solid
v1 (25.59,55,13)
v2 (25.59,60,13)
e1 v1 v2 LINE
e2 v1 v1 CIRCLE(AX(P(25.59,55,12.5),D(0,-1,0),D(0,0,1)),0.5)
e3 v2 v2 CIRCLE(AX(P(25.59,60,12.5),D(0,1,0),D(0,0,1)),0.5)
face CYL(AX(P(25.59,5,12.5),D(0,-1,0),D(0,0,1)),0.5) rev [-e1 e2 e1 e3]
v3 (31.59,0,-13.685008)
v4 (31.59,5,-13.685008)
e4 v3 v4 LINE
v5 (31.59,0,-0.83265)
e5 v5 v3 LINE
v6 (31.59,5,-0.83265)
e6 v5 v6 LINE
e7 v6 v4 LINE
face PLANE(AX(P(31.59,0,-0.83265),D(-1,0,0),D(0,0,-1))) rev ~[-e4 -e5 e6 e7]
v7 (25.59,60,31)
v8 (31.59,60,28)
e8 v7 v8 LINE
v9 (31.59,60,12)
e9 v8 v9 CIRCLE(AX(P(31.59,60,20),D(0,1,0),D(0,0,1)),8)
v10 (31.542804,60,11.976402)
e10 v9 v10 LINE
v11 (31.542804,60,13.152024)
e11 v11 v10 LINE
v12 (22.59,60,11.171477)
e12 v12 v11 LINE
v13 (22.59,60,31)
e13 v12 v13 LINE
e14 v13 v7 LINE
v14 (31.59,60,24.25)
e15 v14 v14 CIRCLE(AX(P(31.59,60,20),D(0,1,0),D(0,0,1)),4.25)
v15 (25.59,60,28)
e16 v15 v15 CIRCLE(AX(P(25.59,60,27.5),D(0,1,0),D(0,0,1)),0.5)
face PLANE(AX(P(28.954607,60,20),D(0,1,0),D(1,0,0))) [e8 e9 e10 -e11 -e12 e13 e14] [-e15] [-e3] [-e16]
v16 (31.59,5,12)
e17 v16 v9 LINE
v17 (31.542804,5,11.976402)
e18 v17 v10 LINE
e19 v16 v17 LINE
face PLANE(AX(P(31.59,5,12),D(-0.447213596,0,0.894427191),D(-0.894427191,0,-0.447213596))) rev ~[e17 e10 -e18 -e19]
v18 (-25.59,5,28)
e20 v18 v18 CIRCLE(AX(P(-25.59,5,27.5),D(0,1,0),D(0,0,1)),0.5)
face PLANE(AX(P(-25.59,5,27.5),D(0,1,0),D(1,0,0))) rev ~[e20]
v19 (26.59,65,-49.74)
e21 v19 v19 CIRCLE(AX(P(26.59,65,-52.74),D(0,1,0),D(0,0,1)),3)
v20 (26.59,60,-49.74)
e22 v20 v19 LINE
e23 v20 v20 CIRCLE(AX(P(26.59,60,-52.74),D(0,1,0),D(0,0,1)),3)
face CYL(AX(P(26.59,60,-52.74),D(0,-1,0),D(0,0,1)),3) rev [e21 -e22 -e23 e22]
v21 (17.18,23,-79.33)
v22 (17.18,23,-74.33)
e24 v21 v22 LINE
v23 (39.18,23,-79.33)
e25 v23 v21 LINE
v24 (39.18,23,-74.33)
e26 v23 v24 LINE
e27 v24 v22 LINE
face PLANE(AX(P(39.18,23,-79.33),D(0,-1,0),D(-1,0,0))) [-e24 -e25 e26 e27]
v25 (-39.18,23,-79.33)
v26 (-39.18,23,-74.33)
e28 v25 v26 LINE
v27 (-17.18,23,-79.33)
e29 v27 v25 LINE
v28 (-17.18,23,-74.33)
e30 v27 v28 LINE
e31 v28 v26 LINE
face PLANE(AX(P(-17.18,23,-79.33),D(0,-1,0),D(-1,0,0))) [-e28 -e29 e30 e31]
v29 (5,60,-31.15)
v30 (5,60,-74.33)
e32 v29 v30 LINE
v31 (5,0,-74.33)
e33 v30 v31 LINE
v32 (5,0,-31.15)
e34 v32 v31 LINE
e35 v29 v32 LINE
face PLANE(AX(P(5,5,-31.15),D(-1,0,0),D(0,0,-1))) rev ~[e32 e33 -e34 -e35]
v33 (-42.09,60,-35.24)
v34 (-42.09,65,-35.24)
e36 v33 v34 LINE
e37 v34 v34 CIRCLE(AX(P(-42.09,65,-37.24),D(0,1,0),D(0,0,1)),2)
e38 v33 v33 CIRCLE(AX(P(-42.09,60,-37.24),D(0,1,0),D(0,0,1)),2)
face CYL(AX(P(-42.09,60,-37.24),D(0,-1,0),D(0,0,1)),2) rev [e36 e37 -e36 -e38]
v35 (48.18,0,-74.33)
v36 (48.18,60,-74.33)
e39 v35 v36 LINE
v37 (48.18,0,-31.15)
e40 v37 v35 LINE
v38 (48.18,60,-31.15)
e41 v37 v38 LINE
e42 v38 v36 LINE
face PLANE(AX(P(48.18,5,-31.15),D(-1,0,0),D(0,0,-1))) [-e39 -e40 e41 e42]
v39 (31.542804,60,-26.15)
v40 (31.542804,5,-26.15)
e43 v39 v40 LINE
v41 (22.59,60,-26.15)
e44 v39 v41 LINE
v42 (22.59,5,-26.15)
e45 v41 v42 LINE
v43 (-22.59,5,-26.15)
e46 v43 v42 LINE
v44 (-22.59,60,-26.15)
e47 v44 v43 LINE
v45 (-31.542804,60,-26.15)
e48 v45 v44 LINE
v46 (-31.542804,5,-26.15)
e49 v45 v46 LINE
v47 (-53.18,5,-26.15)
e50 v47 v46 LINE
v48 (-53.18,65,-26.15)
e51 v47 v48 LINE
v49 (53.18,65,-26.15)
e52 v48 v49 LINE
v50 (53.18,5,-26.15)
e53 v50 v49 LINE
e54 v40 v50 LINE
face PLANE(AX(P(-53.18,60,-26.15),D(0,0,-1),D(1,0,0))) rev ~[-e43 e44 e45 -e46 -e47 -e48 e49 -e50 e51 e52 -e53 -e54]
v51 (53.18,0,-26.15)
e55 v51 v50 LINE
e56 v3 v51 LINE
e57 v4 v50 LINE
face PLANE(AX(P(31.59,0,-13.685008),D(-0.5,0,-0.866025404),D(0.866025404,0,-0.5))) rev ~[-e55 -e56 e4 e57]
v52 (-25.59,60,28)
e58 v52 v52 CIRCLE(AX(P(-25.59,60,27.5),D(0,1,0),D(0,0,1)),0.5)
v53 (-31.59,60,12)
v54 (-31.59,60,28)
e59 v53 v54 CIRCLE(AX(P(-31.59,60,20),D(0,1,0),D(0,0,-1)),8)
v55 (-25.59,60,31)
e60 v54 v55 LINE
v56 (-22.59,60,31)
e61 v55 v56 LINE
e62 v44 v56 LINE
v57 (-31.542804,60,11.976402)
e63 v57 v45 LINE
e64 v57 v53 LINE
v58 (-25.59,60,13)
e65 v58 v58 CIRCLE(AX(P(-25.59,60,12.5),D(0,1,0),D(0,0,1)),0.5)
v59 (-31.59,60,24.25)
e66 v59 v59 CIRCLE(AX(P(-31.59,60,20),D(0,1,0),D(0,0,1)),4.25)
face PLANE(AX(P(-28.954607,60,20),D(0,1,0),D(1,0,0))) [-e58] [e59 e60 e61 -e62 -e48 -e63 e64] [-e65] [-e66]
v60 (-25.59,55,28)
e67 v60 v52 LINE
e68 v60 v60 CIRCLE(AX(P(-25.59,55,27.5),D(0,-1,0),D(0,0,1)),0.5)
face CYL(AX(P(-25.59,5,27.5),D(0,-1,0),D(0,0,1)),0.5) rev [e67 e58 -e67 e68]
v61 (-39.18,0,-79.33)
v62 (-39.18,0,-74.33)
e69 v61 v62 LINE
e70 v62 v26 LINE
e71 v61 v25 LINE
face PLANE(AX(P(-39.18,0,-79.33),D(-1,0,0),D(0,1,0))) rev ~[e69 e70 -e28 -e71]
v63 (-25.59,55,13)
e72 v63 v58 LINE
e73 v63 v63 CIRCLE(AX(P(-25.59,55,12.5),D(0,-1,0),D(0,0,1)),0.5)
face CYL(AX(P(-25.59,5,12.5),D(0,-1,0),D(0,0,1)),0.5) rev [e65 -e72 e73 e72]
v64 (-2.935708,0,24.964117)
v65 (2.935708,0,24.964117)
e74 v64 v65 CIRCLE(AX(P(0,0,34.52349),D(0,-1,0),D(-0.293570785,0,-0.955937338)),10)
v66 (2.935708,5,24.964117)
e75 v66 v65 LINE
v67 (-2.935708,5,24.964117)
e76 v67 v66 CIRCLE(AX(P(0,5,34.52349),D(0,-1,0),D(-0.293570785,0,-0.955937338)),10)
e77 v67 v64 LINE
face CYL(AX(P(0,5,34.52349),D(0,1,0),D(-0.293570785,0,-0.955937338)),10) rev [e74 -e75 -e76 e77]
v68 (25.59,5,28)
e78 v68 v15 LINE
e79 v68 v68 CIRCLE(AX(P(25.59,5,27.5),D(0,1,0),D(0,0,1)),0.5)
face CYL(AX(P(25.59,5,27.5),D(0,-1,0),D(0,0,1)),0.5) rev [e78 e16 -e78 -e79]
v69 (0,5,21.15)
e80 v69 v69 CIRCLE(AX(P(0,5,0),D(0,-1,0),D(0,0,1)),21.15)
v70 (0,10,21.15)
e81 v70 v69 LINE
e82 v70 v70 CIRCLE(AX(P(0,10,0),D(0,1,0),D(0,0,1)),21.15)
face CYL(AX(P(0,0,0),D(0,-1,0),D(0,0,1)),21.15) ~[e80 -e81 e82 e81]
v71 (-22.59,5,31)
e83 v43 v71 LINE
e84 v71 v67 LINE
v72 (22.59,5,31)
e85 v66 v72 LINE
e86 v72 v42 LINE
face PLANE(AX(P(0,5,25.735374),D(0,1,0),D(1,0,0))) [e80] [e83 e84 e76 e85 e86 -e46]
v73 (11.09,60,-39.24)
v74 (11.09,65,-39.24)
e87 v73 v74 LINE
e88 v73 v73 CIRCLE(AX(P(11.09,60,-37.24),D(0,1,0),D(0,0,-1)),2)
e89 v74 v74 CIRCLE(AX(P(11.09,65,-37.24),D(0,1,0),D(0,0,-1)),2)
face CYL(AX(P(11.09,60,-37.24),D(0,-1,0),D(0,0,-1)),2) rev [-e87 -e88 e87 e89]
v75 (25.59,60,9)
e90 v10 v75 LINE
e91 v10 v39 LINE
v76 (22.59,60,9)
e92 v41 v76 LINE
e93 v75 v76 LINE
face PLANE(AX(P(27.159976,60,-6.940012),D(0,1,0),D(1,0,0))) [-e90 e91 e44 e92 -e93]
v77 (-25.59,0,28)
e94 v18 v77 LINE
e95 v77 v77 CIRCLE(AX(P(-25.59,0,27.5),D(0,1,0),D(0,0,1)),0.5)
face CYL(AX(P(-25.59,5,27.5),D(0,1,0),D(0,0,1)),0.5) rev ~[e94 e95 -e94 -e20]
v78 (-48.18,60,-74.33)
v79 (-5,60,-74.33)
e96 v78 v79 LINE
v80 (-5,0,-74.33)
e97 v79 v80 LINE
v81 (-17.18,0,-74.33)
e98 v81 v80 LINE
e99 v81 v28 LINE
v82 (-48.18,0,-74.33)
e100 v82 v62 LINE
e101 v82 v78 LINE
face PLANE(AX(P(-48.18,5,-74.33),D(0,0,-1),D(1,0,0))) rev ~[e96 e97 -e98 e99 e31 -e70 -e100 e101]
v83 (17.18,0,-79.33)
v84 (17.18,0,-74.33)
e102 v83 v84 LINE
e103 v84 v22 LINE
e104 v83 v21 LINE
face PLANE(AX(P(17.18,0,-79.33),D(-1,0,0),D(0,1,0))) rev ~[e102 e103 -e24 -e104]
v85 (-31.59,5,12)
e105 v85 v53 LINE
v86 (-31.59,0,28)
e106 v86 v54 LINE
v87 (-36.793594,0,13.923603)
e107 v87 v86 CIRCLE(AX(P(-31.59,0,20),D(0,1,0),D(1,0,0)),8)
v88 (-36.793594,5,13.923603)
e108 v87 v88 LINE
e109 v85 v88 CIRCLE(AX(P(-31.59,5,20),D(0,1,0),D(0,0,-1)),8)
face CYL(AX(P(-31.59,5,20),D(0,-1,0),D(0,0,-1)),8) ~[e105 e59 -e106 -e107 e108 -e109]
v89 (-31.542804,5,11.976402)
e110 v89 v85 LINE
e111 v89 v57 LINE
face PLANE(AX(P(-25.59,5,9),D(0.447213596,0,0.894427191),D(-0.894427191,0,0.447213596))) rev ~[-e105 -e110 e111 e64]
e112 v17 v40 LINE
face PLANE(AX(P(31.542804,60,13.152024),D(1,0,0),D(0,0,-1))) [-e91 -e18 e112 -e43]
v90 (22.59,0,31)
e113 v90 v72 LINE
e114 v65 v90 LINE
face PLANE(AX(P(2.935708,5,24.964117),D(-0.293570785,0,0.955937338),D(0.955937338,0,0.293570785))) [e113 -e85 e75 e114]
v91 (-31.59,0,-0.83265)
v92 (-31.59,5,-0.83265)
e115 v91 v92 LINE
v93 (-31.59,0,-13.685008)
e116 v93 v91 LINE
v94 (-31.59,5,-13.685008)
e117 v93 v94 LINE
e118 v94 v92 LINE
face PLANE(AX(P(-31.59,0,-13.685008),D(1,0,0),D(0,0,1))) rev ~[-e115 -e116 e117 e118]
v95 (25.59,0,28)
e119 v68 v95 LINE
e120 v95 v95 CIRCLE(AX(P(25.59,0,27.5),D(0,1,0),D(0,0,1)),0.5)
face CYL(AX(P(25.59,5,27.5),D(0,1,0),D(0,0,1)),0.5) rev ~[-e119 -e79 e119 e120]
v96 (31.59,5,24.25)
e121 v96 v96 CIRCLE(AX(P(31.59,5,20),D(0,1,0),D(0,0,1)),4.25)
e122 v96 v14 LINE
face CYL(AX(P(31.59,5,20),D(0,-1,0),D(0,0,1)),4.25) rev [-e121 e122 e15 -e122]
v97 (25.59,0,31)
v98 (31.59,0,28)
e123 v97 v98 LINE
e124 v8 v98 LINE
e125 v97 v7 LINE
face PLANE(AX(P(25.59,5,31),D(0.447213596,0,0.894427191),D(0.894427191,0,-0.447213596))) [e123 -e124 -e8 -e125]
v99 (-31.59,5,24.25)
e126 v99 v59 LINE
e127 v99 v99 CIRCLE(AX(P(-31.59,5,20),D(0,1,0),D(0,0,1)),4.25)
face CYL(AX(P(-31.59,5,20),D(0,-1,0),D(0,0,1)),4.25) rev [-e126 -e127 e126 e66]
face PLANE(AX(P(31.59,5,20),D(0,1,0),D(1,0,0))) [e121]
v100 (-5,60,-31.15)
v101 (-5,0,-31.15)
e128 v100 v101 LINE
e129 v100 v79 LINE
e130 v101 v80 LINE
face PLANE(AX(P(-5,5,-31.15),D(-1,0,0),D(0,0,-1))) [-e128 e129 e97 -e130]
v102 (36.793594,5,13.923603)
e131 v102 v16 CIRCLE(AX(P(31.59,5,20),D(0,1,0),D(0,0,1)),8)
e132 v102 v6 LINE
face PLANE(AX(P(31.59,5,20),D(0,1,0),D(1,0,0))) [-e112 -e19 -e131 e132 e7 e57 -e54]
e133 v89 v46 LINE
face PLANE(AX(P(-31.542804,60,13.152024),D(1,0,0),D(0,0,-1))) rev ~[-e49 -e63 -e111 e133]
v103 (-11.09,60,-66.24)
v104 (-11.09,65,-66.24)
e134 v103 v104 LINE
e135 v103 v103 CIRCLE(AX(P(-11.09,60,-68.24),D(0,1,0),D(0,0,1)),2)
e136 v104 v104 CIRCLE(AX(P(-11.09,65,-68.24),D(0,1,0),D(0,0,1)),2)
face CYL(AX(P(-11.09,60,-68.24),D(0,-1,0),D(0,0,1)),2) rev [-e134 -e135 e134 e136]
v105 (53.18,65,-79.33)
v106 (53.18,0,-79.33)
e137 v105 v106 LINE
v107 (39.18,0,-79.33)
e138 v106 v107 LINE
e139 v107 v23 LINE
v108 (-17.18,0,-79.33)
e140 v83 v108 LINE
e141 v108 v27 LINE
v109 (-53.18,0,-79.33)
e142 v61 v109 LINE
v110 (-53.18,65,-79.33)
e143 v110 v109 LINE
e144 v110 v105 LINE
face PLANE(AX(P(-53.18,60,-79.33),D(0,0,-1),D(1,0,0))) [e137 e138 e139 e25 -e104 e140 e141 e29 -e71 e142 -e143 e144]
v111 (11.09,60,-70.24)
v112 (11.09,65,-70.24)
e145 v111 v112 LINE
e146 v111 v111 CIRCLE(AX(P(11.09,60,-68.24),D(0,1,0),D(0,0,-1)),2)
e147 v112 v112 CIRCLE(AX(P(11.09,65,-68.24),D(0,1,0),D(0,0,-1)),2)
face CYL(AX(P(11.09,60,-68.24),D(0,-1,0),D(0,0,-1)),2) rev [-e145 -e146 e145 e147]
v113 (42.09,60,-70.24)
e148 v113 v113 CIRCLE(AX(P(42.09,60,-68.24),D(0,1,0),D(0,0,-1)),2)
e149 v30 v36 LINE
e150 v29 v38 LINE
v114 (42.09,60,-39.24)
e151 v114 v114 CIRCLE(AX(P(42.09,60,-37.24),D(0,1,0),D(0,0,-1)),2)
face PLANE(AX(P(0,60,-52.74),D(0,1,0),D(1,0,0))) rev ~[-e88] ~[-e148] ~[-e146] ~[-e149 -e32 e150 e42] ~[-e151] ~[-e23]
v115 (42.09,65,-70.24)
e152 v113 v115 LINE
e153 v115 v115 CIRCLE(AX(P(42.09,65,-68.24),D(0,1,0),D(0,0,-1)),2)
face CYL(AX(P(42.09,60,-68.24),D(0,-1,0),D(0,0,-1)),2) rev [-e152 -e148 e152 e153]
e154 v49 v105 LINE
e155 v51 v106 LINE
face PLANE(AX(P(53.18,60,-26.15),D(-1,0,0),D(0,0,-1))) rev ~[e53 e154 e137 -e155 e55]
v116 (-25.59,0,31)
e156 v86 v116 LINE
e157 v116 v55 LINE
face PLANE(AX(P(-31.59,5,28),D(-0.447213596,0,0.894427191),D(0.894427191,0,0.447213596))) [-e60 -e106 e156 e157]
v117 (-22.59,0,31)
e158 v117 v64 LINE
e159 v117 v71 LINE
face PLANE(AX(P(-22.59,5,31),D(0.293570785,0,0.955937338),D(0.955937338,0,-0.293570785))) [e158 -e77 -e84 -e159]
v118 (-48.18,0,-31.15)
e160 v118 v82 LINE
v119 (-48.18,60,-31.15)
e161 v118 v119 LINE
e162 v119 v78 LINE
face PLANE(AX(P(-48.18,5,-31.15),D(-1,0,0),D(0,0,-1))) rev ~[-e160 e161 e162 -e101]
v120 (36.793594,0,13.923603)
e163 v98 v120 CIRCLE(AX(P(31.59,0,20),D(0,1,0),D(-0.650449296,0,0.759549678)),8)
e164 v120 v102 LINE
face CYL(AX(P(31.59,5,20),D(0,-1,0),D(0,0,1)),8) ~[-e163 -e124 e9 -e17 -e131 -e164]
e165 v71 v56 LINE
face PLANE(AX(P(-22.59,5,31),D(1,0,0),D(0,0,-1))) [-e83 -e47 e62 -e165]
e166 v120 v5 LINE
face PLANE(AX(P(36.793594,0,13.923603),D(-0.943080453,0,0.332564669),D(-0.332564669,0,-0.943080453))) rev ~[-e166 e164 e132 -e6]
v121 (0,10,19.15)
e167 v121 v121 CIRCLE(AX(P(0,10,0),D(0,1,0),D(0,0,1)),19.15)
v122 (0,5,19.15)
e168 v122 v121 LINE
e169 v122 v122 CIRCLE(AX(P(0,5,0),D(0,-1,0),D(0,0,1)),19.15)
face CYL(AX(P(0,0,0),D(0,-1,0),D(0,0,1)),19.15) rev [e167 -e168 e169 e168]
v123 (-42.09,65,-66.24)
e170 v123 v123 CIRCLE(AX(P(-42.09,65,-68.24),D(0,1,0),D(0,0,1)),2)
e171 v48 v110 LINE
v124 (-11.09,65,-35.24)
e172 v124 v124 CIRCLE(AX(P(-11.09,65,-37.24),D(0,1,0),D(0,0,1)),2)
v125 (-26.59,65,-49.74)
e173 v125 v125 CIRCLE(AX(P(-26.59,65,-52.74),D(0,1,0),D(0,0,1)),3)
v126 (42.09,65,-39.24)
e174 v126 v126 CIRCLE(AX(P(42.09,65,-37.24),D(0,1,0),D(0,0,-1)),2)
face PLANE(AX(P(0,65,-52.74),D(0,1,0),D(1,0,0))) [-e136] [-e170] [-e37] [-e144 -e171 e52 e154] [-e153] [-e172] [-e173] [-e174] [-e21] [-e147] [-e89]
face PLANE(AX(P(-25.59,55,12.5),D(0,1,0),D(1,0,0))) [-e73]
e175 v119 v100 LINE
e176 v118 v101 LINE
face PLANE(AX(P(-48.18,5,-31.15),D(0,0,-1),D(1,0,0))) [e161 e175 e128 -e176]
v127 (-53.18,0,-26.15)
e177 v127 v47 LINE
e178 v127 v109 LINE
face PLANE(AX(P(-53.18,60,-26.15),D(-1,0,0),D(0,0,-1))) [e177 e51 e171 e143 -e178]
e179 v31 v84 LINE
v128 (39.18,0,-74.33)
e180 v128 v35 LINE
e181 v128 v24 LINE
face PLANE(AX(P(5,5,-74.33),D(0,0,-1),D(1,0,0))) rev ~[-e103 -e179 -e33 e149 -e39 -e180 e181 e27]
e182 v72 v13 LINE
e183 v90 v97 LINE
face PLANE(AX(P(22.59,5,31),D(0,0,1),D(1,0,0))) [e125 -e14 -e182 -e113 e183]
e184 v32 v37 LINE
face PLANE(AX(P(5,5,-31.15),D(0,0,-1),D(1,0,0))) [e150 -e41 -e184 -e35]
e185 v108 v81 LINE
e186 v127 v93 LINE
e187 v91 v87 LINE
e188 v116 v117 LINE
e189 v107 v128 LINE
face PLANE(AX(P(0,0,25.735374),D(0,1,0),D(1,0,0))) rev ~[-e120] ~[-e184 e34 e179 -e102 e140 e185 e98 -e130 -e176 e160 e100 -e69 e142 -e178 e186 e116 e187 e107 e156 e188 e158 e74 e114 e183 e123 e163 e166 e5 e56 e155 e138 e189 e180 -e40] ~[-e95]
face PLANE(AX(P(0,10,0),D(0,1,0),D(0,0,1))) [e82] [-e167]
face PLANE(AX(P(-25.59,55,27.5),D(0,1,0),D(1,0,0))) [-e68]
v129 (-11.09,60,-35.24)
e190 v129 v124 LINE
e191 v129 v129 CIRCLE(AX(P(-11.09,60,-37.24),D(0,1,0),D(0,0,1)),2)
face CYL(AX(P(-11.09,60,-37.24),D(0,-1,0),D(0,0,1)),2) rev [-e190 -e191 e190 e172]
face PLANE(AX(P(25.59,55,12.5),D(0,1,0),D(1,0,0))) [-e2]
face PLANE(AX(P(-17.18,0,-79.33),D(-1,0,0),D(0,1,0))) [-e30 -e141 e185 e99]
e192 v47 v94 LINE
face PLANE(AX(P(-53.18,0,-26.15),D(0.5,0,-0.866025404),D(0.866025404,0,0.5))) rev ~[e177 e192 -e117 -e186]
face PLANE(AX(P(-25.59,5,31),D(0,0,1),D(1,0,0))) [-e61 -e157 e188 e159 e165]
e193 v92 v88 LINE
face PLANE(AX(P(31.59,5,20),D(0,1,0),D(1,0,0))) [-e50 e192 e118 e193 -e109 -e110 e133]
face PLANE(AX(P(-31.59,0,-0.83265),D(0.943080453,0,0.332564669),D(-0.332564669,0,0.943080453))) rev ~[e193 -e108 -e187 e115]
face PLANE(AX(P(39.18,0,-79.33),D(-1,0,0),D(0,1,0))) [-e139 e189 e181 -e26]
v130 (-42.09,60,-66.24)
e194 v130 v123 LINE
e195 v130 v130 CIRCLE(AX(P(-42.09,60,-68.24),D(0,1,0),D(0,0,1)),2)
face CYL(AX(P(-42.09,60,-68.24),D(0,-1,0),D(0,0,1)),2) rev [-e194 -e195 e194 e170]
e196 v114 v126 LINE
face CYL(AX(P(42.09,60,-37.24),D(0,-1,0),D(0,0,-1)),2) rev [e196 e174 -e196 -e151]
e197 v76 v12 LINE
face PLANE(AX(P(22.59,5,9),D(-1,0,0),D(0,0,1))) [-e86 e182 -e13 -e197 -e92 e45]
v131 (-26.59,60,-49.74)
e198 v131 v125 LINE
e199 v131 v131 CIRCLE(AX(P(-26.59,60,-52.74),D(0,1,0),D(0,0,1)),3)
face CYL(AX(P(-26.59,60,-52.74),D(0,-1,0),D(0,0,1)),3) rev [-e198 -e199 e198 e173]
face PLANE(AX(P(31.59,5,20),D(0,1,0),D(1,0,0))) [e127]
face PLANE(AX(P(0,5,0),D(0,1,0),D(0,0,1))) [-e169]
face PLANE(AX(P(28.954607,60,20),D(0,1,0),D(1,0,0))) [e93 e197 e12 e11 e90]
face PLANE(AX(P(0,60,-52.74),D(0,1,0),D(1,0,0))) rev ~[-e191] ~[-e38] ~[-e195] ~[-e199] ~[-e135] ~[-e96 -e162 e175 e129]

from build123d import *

# Parameters (mm, degrees)
SKETCH1_R                       = 21.15
BOSS_EXTRUDE1_DEPTH             = 5
SKETCH2_R                       = 21.15
SKETCH2_R_2                     = 19.15
BOSS_EXTRUDE2_DEPTH             = 10
SKETCH3_R                       = 8
SKETCH3_W                       = 53.18
SKETCH3_H                       = 53.18
SKETCH3_W_2                     = 43.18
SKETCH3_H_2                     = 43.18
SKETCH3_R_2                     = 21.15
BOSS_EXTRUDE4_DEPTH             = 5
SKETCH4_W                       = 106.36
SKETCH4_H                       = 53.18
SKETCH4_W_2                     = 43.18
SKETCH4_H_2                     = 43.18
SKETCH4_R                       = 0.5
SKETCH4_R_2                     = 4.25
BOSS_EXTRUDE5_DEPTH             = 55
BOSS_EXTRUDE5_DIRECTION_2_REACH = 97.637
SKETCH5_R                       = 1.566567696
SKETCH5_R_2                     = 1.356312868
SKETCH5_R_3                     = 1.387107712
SKETCH5_R_4                     = 1.945059914
BOSS_EXTRUDE6_DEPTH             = 50
SKETCH6_W                       = 106.36
SKETCH6_H                       = 53.18
SKETCH6_R                       = 3
SKETCH6_R_2                     = 2
BOSS_EXTRUDE7_DEPTH             = 5
SKETCH7_W                       = 22
SKETCH7_H                       = 23
CUT_EXTRUDE1_DEPTH              = 5
BOSS_EXTRUDE8_DEPTH             = 60
BOSS_EXTRUDE9_DEPTH             = 5


with BuildPart() as part:
    # Sketch1 → Boss-Extrude1 (new body)
    with BuildSketch(Plane(origin=(0, 0, 0), x_dir=(1, 0, 0), z_dir=(0, 1, 0))):
        with Locations(Location((0, 0, 0), (0, 0, 270))):
            Circle(SKETCH1_R)
    extrude(amount=BOSS_EXTRUDE1_DEPTH)

    # Sketch2 → Boss-Extrude2 (add)
    with BuildSketch(Plane(origin=(0, 0, 0), x_dir=(1, 0, 0), z_dir=(0, 1, 0))):
        with Locations(Location((0, 0, 0), (0, 0, 270))):
            Circle(SKETCH2_R)
        with Locations(Location((0, 0, 0), (0, 0, 270))):
            Circle(SKETCH2_R_2, mode=Mode.SUBTRACT)
    extrude(amount=BOSS_EXTRUDE2_DEPTH)

    # Sketch3 → Boss-Extrude4 (add)
    with BuildSketch(Plane(origin=(0, 0, 0), x_dir=(1, 0, 0), z_dir=(0, 1, 0))):
        with Locations((31.59, -20)):
            Circle(SKETCH3_R)
        with Locations((-31.59, -20)):
            Circle(SKETCH3_R)
        with Locations((26.59, 52.74)):
            Rectangle(SKETCH3_W, SKETCH3_H)
        with Locations((26.59, 52.74)):
            Rectangle(SKETCH3_W_2, SKETCH3_H_2, mode=Mode.SUBTRACT)
        with Locations((-26.59, 52.74)):
            Rectangle(SKETCH3_W, SKETCH3_H)
        with Locations((-26.59, 52.74)):
            Rectangle(SKETCH3_W_2, SKETCH3_H_2, mode=Mode.SUBTRACT)
        with BuildLine():
            Line((53.18, 26.15), (0, 26.15))
            Line((0, 26.15), (-53.18, 26.15))
            Line((-53.18, 26.15), (-31.59, 13.685007688))
            Line((-31.59, 13.685007688), (-31.59, 0.832649627))
            Line((-31.59, 0.832649627), (-36.793594364, -13.923602573))
            ThreePointArc((-36.793594364, -13.923602573), (-28.245508627, -12.732649901), (-23.59, -20))
            ThreePointArc((-23.59, -20), (-24.322649901, -23.344491373), (-26.386405636, -26.076397427))
            Line((-26.386405636, -26.076397427), (0, -21.15))
            Line((0, -21.15), (26.386405636, -26.076397427))
            ThreePointArc((26.386405636, -26.076397427), (25.513602573, -14.796405636), (36.793594364, -13.923602573))
            Line((36.793594364, -13.923602573), (31.59, 0.832649627))
            Line((31.59, 0.832649627), (31.59, 13.685007688))
            Line((31.59, 13.685007688), (53.18, 26.15))
        make_face()
        with BuildLine():
            ThreePointArc((21.15, 0), (14.955308422, -14.955308422), (0, -21.15))
            ThreePointArc((0, -21.15), (-14.955308422, 14.955308422), (21.15, 0))
        make_face(mode=Mode.SUBTRACT)
        with Locations(Location((0, 0, 0), (0, 0, 270))):
            Circle(SKETCH3_R_2)
    extrude(amount=BOSS_EXTRUDE4_DEPTH)

    # Sketch4 → Boss-Extrude5 (add)
    with BuildSketch(Plane(origin=(0, 5, 0), x_dir=(1, 0, 0), z_dir=(0, 1, 0))):
        with Locations((0, 52.74)):
            Rectangle(SKETCH4_W, SKETCH4_H)
        with Locations((-26.59, 52.74)):
            Rectangle(SKETCH4_W_2, SKETCH4_H_2, mode=Mode.SUBTRACT)
        with Locations((26.59, 52.74)):
            Rectangle(SKETCH4_W_2, SKETCH4_H_2, mode=Mode.SUBTRACT)
        with BuildLine():
            ThreePointArc((-31.59, -12), (-39.59, -20), (-31.59, -28))
            Line((-31.59, -28), (-25.59, -31))
            Line((-25.59, -31), (-22.59, -31))
            Line((-22.59, -31), (-22.59, -9))
            Line((-22.59, -9), (-25.59, -9))
            Line((-25.59, -9), (-31.59, -12))
        make_face()
        with Locations(Location((-25.59, -27.5, 0), (0, 0, 270))):
            Circle(SKETCH4_R, mode=Mode.SUBTRACT)
        with Locations(Location((-31.59, -20, 0), (0, 0, 270))):
            Circle(SKETCH4_R_2, mode=Mode.SUBTRACT)
        with Locations(Location((-25.59, -12.5, 0), (0, 0, 270))):
            Circle(SKETCH4_R, mode=Mode.SUBTRACT)
        with BuildLine():
            Line((31.59, -12), (25.59, -9))
            Line((25.59, -9), (22.59, -9))
            Line((22.59, -9), (22.59, -31))
            Line((22.59, -31), (25.59, -31))
            Line((25.59, -31), (31.59, -28))
            ThreePointArc((31.59, -28), (39.59, -20), (31.59, -12))
        make_face()
        with Locations(Location((25.59, -27.5, 0), (0, 0, 270))):
            Circle(SKETCH4_R, mode=Mode.SUBTRACT)
        with Locations(Location((25.59, -12.5, 0), (0, 0, 270))):
            Circle(SKETCH4_R, mode=Mode.SUBTRACT)
        with Locations(Location((31.59, -20, 0), (0, 0, 270))):
            Circle(SKETCH4_R_2, mode=Mode.SUBTRACT)
    extrude(amount=BOSS_EXTRUDE5_DEPTH)

    # Boss-Extrude5 direction 2: up to this face of the body (flat: up to its plane)
    boss_extrude5_direction_2_end = Plane(part.part.faces().sort_by_distance((0, 0, -18.773899986))[0])
    # Sketch4 → Boss-Extrude5 direction 2 (add, up to the picked face)
    with BuildSketch(Plane(origin=(0, 5, 0), x_dir=(1, 0, 0), z_dir=(0, 1, 0)), mode=Mode.PRIVATE) as boss_extrude5_direction_2_sk1:
        with Locations((0, 52.74)):
            Rectangle(SKETCH4_W, SKETCH4_H)
        with Locations((-26.59, 52.74)):
            Rectangle(SKETCH4_W_2, SKETCH4_H_2, mode=Mode.SUBTRACT)
        with Locations((26.59, 52.74)):
            Rectangle(SKETCH4_W_2, SKETCH4_H_2, mode=Mode.SUBTRACT)
    boss_extrude5_direction_2_tool1 = split(extrude(boss_extrude5_direction_2_sk1.sketch, amount=-BOSS_EXTRUDE5_DIRECTION_2_REACH, mode=Mode.PRIVATE), bisect_by=boss_extrude5_direction_2_end, keep=Keep.BOTH, mode=Mode.PRIVATE)
    # Sketch4 → Boss-Extrude5 direction 2 (add, up to the picked face)
    with BuildSketch(Plane(origin=(0, 5, 0), x_dir=(1, 0, 0), z_dir=(0, 1, 0)), mode=Mode.PRIVATE) as boss_extrude5_direction_2_sk2:
        with BuildLine():
            ThreePointArc((-31.59, -12), (-39.59, -20), (-31.59, -28))
            Line((-31.59, -28), (-25.59, -31))
            Line((-25.59, -31), (-22.59, -31))
            Line((-22.59, -31), (-22.59, -9))
            Line((-22.59, -9), (-25.59, -9))
            Line((-25.59, -9), (-31.59, -12))
        make_face()
        with Locations(Location((-25.59, -27.5, 0), (0, 0, 270))):
            Circle(SKETCH4_R, mode=Mode.SUBTRACT)
        with Locations(Location((-31.59, -20, 0), (0, 0, 270))):
            Circle(SKETCH4_R_2, mode=Mode.SUBTRACT)
        with Locations(Location((-25.59, -12.5, 0), (0, 0, 270))):
            Circle(SKETCH4_R, mode=Mode.SUBTRACT)
    boss_extrude5_direction_2_tool2 = split(extrude(boss_extrude5_direction_2_sk2.sketch, amount=-BOSS_EXTRUDE5_DIRECTION_2_REACH, mode=Mode.PRIVATE), bisect_by=boss_extrude5_direction_2_end, keep=Keep.BOTH, mode=Mode.PRIVATE)
    # Sketch4 → Boss-Extrude5 direction 2 (add, up to the picked face)
    with BuildSketch(Plane(origin=(0, 5, 0), x_dir=(1, 0, 0), z_dir=(0, 1, 0)), mode=Mode.PRIVATE) as boss_extrude5_direction_2_sk3:
        with BuildLine():
            Line((31.59, -12), (25.59, -9))
            Line((25.59, -9), (22.59, -9))
            Line((22.59, -9), (22.59, -31))
            Line((22.59, -31), (25.59, -31))
            Line((25.59, -31), (31.59, -28))
            ThreePointArc((31.59, -28), (39.59, -20), (31.59, -12))
        make_face()
        with Locations(Location((25.59, -27.5, 0), (0, 0, 270))):
            Circle(SKETCH4_R, mode=Mode.SUBTRACT)
        with Locations(Location((25.59, -12.5, 0), (0, 0, 270))):
            Circle(SKETCH4_R, mode=Mode.SUBTRACT)
        with Locations(Location((31.59, -20, 0), (0, 0, 270))):
            Circle(SKETCH4_R_2, mode=Mode.SUBTRACT)
    boss_extrude5_direction_2_tool3 = split(extrude(boss_extrude5_direction_2_sk3.sketch, amount=-BOSS_EXTRUDE5_DIRECTION_2_REACH, mode=Mode.PRIVATE), bisect_by=boss_extrude5_direction_2_end, keep=Keep.BOTH, mode=Mode.PRIVATE)
    add(boss_extrude5_direction_2_tool1.solids().sort_by(Axis((0, 5, -52.74), (0, -1, 0)))[0])
    add(boss_extrude5_direction_2_tool2.solids().sort_by(Axis((-39.311971, 5, 20), (0, -1, 0)))[0])
    add(boss_extrude5_direction_2_tool3.solids().sort_by(Axis((28.465662, 5, 10.748676), (0, -1, 0)))[0])

    # Sketch5 → Boss-Extrude6 (add)
    with BuildSketch(Plane(origin=(0, 5, 0), x_dir=(1, 0, 0), z_dir=(0, 1, 0))):
        with Locations((-25.59, -27.5)):
            Circle(SKETCH5_R)
        with Locations((-25.59, -12.5)):
            Circle(SKETCH5_R_2)
        with Locations((25.59, -12.5)):
            Circle(SKETCH5_R_3)
        with Locations((25.59, -23.409830044)):
            Circle(SKETCH5_R_4)
    extrude(amount=BOSS_EXTRUDE6_DEPTH)

    # Sketch6 → Boss-Extrude7 (add)
    with BuildSketch(Plane(origin=(0, 60, 0), x_dir=(1, 0, 0), z_dir=(0, 1, 0))):
        with Locations((0, 52.74)):
            Rectangle(SKETCH6_W, SKETCH6_H)
        with Locations(Location((-26.59, 52.74, 0), (0, 0, 270))):
            Circle(SKETCH6_R, mode=Mode.SUBTRACT)
        with Locations(Location((26.59, 52.74, 0), (0, 0, 270))):
            Circle(SKETCH6_R, mode=Mode.SUBTRACT)
        with Locations(Location((-42.09, 68.24, 0), (0, 0, 270))):
            Circle(SKETCH6_R_2, mode=Mode.SUBTRACT)
        with Locations(Location((-11.09, 68.24, 0), (0, 0, 270))):
            Circle(SKETCH6_R_2, mode=Mode.SUBTRACT)
        with Locations(Location((-11.09, 37.24, 0), (0, 0, 270))):
            Circle(SKETCH6_R_2, mode=Mode.SUBTRACT)
        with Locations(Location((-42.09, 37.24, 0), (0, 0, 270))):
            Circle(SKETCH6_R_2, mode=Mode.SUBTRACT)
        with Locations(Location((11.09, 68.24, 0), (0, 0, 90))):
            Circle(SKETCH6_R_2, mode=Mode.SUBTRACT)
        with Locations(Location((11.09, 37.24, 0), (0, 0, 90))):
            Circle(SKETCH6_R_2, mode=Mode.SUBTRACT)
        with Locations(Location((42.09, 37.24, 0), (0, 0, 90))):
            Circle(SKETCH6_R_2, mode=Mode.SUBTRACT)
        with Locations(Location((42.09, 68.24, 0), (0, 0, 90))):
            Circle(SKETCH6_R_2, mode=Mode.SUBTRACT)
    extrude(amount=BOSS_EXTRUDE7_DEPTH)

    # Sketch7 → Cut-Extrude1 (cut)
    with BuildSketch(Plane(origin=(0, 0, -79.33), x_dir=(-1, 0, 0), z_dir=(0, 0, -1))):
        with Locations((-28.18, 11.5)):
            Rectangle(SKETCH7_W, SKETCH7_H)
        with Locations((28.18, 11.5)):
            Rectangle(SKETCH7_W, SKETCH7_H)
    extrude(amount=-CUT_EXTRUDE1_DEPTH, mode=Mode.SUBTRACT)

    # Sketch8 → Boss-Extrude8 (add)
    with BuildSketch(Plane(origin=(0, 60, 0), x_dir=(1, 0, 0), z_dir=(0, 1, 0))):
        Polygon((-31.542803854, -13.152023689), (-31.542803854, 26.15), (-22.59, 26.15), (-22.59, -9.877338884), (-22.59, -11.171477367), align=None)
        Polygon((31.542803854, 26.15), (22.59, 26.15), (22.59, -9.877338884), (22.59, -11.171477367), (31.542803854, -13.152023689), align=None)
    extrude(amount=-BOSS_EXTRUDE8_DEPTH)

    # Sketch9 → Boss-Extrude9 (add)
    with BuildSketch(Plane(origin=(0, 5, 0), x_dir=(1, 0, 0), z_dir=(0, 1, 0))):
        with BuildLine():
            Line((-22.59, -25.36760051), (-22.59, -31))
            Line((-22.59, -31), (-2.93570785, -24.964116951))
            ThreePointArc((-2.93570785, -24.964116951), (0, -24.523490331), (2.93570785, -24.964116951))
            Line((2.93570785, -24.964116951), (22.59, -31))
            Line((22.59, -31), (22.59, -25.36760051))
            Line((22.59, -25.36760051), (0, -21.15))
            Line((0, -21.15), (-22.59, -25.36760051))
        make_face()
    extrude(amount=-BOSS_EXTRUDE9_DEPTH)


solid = part.part
